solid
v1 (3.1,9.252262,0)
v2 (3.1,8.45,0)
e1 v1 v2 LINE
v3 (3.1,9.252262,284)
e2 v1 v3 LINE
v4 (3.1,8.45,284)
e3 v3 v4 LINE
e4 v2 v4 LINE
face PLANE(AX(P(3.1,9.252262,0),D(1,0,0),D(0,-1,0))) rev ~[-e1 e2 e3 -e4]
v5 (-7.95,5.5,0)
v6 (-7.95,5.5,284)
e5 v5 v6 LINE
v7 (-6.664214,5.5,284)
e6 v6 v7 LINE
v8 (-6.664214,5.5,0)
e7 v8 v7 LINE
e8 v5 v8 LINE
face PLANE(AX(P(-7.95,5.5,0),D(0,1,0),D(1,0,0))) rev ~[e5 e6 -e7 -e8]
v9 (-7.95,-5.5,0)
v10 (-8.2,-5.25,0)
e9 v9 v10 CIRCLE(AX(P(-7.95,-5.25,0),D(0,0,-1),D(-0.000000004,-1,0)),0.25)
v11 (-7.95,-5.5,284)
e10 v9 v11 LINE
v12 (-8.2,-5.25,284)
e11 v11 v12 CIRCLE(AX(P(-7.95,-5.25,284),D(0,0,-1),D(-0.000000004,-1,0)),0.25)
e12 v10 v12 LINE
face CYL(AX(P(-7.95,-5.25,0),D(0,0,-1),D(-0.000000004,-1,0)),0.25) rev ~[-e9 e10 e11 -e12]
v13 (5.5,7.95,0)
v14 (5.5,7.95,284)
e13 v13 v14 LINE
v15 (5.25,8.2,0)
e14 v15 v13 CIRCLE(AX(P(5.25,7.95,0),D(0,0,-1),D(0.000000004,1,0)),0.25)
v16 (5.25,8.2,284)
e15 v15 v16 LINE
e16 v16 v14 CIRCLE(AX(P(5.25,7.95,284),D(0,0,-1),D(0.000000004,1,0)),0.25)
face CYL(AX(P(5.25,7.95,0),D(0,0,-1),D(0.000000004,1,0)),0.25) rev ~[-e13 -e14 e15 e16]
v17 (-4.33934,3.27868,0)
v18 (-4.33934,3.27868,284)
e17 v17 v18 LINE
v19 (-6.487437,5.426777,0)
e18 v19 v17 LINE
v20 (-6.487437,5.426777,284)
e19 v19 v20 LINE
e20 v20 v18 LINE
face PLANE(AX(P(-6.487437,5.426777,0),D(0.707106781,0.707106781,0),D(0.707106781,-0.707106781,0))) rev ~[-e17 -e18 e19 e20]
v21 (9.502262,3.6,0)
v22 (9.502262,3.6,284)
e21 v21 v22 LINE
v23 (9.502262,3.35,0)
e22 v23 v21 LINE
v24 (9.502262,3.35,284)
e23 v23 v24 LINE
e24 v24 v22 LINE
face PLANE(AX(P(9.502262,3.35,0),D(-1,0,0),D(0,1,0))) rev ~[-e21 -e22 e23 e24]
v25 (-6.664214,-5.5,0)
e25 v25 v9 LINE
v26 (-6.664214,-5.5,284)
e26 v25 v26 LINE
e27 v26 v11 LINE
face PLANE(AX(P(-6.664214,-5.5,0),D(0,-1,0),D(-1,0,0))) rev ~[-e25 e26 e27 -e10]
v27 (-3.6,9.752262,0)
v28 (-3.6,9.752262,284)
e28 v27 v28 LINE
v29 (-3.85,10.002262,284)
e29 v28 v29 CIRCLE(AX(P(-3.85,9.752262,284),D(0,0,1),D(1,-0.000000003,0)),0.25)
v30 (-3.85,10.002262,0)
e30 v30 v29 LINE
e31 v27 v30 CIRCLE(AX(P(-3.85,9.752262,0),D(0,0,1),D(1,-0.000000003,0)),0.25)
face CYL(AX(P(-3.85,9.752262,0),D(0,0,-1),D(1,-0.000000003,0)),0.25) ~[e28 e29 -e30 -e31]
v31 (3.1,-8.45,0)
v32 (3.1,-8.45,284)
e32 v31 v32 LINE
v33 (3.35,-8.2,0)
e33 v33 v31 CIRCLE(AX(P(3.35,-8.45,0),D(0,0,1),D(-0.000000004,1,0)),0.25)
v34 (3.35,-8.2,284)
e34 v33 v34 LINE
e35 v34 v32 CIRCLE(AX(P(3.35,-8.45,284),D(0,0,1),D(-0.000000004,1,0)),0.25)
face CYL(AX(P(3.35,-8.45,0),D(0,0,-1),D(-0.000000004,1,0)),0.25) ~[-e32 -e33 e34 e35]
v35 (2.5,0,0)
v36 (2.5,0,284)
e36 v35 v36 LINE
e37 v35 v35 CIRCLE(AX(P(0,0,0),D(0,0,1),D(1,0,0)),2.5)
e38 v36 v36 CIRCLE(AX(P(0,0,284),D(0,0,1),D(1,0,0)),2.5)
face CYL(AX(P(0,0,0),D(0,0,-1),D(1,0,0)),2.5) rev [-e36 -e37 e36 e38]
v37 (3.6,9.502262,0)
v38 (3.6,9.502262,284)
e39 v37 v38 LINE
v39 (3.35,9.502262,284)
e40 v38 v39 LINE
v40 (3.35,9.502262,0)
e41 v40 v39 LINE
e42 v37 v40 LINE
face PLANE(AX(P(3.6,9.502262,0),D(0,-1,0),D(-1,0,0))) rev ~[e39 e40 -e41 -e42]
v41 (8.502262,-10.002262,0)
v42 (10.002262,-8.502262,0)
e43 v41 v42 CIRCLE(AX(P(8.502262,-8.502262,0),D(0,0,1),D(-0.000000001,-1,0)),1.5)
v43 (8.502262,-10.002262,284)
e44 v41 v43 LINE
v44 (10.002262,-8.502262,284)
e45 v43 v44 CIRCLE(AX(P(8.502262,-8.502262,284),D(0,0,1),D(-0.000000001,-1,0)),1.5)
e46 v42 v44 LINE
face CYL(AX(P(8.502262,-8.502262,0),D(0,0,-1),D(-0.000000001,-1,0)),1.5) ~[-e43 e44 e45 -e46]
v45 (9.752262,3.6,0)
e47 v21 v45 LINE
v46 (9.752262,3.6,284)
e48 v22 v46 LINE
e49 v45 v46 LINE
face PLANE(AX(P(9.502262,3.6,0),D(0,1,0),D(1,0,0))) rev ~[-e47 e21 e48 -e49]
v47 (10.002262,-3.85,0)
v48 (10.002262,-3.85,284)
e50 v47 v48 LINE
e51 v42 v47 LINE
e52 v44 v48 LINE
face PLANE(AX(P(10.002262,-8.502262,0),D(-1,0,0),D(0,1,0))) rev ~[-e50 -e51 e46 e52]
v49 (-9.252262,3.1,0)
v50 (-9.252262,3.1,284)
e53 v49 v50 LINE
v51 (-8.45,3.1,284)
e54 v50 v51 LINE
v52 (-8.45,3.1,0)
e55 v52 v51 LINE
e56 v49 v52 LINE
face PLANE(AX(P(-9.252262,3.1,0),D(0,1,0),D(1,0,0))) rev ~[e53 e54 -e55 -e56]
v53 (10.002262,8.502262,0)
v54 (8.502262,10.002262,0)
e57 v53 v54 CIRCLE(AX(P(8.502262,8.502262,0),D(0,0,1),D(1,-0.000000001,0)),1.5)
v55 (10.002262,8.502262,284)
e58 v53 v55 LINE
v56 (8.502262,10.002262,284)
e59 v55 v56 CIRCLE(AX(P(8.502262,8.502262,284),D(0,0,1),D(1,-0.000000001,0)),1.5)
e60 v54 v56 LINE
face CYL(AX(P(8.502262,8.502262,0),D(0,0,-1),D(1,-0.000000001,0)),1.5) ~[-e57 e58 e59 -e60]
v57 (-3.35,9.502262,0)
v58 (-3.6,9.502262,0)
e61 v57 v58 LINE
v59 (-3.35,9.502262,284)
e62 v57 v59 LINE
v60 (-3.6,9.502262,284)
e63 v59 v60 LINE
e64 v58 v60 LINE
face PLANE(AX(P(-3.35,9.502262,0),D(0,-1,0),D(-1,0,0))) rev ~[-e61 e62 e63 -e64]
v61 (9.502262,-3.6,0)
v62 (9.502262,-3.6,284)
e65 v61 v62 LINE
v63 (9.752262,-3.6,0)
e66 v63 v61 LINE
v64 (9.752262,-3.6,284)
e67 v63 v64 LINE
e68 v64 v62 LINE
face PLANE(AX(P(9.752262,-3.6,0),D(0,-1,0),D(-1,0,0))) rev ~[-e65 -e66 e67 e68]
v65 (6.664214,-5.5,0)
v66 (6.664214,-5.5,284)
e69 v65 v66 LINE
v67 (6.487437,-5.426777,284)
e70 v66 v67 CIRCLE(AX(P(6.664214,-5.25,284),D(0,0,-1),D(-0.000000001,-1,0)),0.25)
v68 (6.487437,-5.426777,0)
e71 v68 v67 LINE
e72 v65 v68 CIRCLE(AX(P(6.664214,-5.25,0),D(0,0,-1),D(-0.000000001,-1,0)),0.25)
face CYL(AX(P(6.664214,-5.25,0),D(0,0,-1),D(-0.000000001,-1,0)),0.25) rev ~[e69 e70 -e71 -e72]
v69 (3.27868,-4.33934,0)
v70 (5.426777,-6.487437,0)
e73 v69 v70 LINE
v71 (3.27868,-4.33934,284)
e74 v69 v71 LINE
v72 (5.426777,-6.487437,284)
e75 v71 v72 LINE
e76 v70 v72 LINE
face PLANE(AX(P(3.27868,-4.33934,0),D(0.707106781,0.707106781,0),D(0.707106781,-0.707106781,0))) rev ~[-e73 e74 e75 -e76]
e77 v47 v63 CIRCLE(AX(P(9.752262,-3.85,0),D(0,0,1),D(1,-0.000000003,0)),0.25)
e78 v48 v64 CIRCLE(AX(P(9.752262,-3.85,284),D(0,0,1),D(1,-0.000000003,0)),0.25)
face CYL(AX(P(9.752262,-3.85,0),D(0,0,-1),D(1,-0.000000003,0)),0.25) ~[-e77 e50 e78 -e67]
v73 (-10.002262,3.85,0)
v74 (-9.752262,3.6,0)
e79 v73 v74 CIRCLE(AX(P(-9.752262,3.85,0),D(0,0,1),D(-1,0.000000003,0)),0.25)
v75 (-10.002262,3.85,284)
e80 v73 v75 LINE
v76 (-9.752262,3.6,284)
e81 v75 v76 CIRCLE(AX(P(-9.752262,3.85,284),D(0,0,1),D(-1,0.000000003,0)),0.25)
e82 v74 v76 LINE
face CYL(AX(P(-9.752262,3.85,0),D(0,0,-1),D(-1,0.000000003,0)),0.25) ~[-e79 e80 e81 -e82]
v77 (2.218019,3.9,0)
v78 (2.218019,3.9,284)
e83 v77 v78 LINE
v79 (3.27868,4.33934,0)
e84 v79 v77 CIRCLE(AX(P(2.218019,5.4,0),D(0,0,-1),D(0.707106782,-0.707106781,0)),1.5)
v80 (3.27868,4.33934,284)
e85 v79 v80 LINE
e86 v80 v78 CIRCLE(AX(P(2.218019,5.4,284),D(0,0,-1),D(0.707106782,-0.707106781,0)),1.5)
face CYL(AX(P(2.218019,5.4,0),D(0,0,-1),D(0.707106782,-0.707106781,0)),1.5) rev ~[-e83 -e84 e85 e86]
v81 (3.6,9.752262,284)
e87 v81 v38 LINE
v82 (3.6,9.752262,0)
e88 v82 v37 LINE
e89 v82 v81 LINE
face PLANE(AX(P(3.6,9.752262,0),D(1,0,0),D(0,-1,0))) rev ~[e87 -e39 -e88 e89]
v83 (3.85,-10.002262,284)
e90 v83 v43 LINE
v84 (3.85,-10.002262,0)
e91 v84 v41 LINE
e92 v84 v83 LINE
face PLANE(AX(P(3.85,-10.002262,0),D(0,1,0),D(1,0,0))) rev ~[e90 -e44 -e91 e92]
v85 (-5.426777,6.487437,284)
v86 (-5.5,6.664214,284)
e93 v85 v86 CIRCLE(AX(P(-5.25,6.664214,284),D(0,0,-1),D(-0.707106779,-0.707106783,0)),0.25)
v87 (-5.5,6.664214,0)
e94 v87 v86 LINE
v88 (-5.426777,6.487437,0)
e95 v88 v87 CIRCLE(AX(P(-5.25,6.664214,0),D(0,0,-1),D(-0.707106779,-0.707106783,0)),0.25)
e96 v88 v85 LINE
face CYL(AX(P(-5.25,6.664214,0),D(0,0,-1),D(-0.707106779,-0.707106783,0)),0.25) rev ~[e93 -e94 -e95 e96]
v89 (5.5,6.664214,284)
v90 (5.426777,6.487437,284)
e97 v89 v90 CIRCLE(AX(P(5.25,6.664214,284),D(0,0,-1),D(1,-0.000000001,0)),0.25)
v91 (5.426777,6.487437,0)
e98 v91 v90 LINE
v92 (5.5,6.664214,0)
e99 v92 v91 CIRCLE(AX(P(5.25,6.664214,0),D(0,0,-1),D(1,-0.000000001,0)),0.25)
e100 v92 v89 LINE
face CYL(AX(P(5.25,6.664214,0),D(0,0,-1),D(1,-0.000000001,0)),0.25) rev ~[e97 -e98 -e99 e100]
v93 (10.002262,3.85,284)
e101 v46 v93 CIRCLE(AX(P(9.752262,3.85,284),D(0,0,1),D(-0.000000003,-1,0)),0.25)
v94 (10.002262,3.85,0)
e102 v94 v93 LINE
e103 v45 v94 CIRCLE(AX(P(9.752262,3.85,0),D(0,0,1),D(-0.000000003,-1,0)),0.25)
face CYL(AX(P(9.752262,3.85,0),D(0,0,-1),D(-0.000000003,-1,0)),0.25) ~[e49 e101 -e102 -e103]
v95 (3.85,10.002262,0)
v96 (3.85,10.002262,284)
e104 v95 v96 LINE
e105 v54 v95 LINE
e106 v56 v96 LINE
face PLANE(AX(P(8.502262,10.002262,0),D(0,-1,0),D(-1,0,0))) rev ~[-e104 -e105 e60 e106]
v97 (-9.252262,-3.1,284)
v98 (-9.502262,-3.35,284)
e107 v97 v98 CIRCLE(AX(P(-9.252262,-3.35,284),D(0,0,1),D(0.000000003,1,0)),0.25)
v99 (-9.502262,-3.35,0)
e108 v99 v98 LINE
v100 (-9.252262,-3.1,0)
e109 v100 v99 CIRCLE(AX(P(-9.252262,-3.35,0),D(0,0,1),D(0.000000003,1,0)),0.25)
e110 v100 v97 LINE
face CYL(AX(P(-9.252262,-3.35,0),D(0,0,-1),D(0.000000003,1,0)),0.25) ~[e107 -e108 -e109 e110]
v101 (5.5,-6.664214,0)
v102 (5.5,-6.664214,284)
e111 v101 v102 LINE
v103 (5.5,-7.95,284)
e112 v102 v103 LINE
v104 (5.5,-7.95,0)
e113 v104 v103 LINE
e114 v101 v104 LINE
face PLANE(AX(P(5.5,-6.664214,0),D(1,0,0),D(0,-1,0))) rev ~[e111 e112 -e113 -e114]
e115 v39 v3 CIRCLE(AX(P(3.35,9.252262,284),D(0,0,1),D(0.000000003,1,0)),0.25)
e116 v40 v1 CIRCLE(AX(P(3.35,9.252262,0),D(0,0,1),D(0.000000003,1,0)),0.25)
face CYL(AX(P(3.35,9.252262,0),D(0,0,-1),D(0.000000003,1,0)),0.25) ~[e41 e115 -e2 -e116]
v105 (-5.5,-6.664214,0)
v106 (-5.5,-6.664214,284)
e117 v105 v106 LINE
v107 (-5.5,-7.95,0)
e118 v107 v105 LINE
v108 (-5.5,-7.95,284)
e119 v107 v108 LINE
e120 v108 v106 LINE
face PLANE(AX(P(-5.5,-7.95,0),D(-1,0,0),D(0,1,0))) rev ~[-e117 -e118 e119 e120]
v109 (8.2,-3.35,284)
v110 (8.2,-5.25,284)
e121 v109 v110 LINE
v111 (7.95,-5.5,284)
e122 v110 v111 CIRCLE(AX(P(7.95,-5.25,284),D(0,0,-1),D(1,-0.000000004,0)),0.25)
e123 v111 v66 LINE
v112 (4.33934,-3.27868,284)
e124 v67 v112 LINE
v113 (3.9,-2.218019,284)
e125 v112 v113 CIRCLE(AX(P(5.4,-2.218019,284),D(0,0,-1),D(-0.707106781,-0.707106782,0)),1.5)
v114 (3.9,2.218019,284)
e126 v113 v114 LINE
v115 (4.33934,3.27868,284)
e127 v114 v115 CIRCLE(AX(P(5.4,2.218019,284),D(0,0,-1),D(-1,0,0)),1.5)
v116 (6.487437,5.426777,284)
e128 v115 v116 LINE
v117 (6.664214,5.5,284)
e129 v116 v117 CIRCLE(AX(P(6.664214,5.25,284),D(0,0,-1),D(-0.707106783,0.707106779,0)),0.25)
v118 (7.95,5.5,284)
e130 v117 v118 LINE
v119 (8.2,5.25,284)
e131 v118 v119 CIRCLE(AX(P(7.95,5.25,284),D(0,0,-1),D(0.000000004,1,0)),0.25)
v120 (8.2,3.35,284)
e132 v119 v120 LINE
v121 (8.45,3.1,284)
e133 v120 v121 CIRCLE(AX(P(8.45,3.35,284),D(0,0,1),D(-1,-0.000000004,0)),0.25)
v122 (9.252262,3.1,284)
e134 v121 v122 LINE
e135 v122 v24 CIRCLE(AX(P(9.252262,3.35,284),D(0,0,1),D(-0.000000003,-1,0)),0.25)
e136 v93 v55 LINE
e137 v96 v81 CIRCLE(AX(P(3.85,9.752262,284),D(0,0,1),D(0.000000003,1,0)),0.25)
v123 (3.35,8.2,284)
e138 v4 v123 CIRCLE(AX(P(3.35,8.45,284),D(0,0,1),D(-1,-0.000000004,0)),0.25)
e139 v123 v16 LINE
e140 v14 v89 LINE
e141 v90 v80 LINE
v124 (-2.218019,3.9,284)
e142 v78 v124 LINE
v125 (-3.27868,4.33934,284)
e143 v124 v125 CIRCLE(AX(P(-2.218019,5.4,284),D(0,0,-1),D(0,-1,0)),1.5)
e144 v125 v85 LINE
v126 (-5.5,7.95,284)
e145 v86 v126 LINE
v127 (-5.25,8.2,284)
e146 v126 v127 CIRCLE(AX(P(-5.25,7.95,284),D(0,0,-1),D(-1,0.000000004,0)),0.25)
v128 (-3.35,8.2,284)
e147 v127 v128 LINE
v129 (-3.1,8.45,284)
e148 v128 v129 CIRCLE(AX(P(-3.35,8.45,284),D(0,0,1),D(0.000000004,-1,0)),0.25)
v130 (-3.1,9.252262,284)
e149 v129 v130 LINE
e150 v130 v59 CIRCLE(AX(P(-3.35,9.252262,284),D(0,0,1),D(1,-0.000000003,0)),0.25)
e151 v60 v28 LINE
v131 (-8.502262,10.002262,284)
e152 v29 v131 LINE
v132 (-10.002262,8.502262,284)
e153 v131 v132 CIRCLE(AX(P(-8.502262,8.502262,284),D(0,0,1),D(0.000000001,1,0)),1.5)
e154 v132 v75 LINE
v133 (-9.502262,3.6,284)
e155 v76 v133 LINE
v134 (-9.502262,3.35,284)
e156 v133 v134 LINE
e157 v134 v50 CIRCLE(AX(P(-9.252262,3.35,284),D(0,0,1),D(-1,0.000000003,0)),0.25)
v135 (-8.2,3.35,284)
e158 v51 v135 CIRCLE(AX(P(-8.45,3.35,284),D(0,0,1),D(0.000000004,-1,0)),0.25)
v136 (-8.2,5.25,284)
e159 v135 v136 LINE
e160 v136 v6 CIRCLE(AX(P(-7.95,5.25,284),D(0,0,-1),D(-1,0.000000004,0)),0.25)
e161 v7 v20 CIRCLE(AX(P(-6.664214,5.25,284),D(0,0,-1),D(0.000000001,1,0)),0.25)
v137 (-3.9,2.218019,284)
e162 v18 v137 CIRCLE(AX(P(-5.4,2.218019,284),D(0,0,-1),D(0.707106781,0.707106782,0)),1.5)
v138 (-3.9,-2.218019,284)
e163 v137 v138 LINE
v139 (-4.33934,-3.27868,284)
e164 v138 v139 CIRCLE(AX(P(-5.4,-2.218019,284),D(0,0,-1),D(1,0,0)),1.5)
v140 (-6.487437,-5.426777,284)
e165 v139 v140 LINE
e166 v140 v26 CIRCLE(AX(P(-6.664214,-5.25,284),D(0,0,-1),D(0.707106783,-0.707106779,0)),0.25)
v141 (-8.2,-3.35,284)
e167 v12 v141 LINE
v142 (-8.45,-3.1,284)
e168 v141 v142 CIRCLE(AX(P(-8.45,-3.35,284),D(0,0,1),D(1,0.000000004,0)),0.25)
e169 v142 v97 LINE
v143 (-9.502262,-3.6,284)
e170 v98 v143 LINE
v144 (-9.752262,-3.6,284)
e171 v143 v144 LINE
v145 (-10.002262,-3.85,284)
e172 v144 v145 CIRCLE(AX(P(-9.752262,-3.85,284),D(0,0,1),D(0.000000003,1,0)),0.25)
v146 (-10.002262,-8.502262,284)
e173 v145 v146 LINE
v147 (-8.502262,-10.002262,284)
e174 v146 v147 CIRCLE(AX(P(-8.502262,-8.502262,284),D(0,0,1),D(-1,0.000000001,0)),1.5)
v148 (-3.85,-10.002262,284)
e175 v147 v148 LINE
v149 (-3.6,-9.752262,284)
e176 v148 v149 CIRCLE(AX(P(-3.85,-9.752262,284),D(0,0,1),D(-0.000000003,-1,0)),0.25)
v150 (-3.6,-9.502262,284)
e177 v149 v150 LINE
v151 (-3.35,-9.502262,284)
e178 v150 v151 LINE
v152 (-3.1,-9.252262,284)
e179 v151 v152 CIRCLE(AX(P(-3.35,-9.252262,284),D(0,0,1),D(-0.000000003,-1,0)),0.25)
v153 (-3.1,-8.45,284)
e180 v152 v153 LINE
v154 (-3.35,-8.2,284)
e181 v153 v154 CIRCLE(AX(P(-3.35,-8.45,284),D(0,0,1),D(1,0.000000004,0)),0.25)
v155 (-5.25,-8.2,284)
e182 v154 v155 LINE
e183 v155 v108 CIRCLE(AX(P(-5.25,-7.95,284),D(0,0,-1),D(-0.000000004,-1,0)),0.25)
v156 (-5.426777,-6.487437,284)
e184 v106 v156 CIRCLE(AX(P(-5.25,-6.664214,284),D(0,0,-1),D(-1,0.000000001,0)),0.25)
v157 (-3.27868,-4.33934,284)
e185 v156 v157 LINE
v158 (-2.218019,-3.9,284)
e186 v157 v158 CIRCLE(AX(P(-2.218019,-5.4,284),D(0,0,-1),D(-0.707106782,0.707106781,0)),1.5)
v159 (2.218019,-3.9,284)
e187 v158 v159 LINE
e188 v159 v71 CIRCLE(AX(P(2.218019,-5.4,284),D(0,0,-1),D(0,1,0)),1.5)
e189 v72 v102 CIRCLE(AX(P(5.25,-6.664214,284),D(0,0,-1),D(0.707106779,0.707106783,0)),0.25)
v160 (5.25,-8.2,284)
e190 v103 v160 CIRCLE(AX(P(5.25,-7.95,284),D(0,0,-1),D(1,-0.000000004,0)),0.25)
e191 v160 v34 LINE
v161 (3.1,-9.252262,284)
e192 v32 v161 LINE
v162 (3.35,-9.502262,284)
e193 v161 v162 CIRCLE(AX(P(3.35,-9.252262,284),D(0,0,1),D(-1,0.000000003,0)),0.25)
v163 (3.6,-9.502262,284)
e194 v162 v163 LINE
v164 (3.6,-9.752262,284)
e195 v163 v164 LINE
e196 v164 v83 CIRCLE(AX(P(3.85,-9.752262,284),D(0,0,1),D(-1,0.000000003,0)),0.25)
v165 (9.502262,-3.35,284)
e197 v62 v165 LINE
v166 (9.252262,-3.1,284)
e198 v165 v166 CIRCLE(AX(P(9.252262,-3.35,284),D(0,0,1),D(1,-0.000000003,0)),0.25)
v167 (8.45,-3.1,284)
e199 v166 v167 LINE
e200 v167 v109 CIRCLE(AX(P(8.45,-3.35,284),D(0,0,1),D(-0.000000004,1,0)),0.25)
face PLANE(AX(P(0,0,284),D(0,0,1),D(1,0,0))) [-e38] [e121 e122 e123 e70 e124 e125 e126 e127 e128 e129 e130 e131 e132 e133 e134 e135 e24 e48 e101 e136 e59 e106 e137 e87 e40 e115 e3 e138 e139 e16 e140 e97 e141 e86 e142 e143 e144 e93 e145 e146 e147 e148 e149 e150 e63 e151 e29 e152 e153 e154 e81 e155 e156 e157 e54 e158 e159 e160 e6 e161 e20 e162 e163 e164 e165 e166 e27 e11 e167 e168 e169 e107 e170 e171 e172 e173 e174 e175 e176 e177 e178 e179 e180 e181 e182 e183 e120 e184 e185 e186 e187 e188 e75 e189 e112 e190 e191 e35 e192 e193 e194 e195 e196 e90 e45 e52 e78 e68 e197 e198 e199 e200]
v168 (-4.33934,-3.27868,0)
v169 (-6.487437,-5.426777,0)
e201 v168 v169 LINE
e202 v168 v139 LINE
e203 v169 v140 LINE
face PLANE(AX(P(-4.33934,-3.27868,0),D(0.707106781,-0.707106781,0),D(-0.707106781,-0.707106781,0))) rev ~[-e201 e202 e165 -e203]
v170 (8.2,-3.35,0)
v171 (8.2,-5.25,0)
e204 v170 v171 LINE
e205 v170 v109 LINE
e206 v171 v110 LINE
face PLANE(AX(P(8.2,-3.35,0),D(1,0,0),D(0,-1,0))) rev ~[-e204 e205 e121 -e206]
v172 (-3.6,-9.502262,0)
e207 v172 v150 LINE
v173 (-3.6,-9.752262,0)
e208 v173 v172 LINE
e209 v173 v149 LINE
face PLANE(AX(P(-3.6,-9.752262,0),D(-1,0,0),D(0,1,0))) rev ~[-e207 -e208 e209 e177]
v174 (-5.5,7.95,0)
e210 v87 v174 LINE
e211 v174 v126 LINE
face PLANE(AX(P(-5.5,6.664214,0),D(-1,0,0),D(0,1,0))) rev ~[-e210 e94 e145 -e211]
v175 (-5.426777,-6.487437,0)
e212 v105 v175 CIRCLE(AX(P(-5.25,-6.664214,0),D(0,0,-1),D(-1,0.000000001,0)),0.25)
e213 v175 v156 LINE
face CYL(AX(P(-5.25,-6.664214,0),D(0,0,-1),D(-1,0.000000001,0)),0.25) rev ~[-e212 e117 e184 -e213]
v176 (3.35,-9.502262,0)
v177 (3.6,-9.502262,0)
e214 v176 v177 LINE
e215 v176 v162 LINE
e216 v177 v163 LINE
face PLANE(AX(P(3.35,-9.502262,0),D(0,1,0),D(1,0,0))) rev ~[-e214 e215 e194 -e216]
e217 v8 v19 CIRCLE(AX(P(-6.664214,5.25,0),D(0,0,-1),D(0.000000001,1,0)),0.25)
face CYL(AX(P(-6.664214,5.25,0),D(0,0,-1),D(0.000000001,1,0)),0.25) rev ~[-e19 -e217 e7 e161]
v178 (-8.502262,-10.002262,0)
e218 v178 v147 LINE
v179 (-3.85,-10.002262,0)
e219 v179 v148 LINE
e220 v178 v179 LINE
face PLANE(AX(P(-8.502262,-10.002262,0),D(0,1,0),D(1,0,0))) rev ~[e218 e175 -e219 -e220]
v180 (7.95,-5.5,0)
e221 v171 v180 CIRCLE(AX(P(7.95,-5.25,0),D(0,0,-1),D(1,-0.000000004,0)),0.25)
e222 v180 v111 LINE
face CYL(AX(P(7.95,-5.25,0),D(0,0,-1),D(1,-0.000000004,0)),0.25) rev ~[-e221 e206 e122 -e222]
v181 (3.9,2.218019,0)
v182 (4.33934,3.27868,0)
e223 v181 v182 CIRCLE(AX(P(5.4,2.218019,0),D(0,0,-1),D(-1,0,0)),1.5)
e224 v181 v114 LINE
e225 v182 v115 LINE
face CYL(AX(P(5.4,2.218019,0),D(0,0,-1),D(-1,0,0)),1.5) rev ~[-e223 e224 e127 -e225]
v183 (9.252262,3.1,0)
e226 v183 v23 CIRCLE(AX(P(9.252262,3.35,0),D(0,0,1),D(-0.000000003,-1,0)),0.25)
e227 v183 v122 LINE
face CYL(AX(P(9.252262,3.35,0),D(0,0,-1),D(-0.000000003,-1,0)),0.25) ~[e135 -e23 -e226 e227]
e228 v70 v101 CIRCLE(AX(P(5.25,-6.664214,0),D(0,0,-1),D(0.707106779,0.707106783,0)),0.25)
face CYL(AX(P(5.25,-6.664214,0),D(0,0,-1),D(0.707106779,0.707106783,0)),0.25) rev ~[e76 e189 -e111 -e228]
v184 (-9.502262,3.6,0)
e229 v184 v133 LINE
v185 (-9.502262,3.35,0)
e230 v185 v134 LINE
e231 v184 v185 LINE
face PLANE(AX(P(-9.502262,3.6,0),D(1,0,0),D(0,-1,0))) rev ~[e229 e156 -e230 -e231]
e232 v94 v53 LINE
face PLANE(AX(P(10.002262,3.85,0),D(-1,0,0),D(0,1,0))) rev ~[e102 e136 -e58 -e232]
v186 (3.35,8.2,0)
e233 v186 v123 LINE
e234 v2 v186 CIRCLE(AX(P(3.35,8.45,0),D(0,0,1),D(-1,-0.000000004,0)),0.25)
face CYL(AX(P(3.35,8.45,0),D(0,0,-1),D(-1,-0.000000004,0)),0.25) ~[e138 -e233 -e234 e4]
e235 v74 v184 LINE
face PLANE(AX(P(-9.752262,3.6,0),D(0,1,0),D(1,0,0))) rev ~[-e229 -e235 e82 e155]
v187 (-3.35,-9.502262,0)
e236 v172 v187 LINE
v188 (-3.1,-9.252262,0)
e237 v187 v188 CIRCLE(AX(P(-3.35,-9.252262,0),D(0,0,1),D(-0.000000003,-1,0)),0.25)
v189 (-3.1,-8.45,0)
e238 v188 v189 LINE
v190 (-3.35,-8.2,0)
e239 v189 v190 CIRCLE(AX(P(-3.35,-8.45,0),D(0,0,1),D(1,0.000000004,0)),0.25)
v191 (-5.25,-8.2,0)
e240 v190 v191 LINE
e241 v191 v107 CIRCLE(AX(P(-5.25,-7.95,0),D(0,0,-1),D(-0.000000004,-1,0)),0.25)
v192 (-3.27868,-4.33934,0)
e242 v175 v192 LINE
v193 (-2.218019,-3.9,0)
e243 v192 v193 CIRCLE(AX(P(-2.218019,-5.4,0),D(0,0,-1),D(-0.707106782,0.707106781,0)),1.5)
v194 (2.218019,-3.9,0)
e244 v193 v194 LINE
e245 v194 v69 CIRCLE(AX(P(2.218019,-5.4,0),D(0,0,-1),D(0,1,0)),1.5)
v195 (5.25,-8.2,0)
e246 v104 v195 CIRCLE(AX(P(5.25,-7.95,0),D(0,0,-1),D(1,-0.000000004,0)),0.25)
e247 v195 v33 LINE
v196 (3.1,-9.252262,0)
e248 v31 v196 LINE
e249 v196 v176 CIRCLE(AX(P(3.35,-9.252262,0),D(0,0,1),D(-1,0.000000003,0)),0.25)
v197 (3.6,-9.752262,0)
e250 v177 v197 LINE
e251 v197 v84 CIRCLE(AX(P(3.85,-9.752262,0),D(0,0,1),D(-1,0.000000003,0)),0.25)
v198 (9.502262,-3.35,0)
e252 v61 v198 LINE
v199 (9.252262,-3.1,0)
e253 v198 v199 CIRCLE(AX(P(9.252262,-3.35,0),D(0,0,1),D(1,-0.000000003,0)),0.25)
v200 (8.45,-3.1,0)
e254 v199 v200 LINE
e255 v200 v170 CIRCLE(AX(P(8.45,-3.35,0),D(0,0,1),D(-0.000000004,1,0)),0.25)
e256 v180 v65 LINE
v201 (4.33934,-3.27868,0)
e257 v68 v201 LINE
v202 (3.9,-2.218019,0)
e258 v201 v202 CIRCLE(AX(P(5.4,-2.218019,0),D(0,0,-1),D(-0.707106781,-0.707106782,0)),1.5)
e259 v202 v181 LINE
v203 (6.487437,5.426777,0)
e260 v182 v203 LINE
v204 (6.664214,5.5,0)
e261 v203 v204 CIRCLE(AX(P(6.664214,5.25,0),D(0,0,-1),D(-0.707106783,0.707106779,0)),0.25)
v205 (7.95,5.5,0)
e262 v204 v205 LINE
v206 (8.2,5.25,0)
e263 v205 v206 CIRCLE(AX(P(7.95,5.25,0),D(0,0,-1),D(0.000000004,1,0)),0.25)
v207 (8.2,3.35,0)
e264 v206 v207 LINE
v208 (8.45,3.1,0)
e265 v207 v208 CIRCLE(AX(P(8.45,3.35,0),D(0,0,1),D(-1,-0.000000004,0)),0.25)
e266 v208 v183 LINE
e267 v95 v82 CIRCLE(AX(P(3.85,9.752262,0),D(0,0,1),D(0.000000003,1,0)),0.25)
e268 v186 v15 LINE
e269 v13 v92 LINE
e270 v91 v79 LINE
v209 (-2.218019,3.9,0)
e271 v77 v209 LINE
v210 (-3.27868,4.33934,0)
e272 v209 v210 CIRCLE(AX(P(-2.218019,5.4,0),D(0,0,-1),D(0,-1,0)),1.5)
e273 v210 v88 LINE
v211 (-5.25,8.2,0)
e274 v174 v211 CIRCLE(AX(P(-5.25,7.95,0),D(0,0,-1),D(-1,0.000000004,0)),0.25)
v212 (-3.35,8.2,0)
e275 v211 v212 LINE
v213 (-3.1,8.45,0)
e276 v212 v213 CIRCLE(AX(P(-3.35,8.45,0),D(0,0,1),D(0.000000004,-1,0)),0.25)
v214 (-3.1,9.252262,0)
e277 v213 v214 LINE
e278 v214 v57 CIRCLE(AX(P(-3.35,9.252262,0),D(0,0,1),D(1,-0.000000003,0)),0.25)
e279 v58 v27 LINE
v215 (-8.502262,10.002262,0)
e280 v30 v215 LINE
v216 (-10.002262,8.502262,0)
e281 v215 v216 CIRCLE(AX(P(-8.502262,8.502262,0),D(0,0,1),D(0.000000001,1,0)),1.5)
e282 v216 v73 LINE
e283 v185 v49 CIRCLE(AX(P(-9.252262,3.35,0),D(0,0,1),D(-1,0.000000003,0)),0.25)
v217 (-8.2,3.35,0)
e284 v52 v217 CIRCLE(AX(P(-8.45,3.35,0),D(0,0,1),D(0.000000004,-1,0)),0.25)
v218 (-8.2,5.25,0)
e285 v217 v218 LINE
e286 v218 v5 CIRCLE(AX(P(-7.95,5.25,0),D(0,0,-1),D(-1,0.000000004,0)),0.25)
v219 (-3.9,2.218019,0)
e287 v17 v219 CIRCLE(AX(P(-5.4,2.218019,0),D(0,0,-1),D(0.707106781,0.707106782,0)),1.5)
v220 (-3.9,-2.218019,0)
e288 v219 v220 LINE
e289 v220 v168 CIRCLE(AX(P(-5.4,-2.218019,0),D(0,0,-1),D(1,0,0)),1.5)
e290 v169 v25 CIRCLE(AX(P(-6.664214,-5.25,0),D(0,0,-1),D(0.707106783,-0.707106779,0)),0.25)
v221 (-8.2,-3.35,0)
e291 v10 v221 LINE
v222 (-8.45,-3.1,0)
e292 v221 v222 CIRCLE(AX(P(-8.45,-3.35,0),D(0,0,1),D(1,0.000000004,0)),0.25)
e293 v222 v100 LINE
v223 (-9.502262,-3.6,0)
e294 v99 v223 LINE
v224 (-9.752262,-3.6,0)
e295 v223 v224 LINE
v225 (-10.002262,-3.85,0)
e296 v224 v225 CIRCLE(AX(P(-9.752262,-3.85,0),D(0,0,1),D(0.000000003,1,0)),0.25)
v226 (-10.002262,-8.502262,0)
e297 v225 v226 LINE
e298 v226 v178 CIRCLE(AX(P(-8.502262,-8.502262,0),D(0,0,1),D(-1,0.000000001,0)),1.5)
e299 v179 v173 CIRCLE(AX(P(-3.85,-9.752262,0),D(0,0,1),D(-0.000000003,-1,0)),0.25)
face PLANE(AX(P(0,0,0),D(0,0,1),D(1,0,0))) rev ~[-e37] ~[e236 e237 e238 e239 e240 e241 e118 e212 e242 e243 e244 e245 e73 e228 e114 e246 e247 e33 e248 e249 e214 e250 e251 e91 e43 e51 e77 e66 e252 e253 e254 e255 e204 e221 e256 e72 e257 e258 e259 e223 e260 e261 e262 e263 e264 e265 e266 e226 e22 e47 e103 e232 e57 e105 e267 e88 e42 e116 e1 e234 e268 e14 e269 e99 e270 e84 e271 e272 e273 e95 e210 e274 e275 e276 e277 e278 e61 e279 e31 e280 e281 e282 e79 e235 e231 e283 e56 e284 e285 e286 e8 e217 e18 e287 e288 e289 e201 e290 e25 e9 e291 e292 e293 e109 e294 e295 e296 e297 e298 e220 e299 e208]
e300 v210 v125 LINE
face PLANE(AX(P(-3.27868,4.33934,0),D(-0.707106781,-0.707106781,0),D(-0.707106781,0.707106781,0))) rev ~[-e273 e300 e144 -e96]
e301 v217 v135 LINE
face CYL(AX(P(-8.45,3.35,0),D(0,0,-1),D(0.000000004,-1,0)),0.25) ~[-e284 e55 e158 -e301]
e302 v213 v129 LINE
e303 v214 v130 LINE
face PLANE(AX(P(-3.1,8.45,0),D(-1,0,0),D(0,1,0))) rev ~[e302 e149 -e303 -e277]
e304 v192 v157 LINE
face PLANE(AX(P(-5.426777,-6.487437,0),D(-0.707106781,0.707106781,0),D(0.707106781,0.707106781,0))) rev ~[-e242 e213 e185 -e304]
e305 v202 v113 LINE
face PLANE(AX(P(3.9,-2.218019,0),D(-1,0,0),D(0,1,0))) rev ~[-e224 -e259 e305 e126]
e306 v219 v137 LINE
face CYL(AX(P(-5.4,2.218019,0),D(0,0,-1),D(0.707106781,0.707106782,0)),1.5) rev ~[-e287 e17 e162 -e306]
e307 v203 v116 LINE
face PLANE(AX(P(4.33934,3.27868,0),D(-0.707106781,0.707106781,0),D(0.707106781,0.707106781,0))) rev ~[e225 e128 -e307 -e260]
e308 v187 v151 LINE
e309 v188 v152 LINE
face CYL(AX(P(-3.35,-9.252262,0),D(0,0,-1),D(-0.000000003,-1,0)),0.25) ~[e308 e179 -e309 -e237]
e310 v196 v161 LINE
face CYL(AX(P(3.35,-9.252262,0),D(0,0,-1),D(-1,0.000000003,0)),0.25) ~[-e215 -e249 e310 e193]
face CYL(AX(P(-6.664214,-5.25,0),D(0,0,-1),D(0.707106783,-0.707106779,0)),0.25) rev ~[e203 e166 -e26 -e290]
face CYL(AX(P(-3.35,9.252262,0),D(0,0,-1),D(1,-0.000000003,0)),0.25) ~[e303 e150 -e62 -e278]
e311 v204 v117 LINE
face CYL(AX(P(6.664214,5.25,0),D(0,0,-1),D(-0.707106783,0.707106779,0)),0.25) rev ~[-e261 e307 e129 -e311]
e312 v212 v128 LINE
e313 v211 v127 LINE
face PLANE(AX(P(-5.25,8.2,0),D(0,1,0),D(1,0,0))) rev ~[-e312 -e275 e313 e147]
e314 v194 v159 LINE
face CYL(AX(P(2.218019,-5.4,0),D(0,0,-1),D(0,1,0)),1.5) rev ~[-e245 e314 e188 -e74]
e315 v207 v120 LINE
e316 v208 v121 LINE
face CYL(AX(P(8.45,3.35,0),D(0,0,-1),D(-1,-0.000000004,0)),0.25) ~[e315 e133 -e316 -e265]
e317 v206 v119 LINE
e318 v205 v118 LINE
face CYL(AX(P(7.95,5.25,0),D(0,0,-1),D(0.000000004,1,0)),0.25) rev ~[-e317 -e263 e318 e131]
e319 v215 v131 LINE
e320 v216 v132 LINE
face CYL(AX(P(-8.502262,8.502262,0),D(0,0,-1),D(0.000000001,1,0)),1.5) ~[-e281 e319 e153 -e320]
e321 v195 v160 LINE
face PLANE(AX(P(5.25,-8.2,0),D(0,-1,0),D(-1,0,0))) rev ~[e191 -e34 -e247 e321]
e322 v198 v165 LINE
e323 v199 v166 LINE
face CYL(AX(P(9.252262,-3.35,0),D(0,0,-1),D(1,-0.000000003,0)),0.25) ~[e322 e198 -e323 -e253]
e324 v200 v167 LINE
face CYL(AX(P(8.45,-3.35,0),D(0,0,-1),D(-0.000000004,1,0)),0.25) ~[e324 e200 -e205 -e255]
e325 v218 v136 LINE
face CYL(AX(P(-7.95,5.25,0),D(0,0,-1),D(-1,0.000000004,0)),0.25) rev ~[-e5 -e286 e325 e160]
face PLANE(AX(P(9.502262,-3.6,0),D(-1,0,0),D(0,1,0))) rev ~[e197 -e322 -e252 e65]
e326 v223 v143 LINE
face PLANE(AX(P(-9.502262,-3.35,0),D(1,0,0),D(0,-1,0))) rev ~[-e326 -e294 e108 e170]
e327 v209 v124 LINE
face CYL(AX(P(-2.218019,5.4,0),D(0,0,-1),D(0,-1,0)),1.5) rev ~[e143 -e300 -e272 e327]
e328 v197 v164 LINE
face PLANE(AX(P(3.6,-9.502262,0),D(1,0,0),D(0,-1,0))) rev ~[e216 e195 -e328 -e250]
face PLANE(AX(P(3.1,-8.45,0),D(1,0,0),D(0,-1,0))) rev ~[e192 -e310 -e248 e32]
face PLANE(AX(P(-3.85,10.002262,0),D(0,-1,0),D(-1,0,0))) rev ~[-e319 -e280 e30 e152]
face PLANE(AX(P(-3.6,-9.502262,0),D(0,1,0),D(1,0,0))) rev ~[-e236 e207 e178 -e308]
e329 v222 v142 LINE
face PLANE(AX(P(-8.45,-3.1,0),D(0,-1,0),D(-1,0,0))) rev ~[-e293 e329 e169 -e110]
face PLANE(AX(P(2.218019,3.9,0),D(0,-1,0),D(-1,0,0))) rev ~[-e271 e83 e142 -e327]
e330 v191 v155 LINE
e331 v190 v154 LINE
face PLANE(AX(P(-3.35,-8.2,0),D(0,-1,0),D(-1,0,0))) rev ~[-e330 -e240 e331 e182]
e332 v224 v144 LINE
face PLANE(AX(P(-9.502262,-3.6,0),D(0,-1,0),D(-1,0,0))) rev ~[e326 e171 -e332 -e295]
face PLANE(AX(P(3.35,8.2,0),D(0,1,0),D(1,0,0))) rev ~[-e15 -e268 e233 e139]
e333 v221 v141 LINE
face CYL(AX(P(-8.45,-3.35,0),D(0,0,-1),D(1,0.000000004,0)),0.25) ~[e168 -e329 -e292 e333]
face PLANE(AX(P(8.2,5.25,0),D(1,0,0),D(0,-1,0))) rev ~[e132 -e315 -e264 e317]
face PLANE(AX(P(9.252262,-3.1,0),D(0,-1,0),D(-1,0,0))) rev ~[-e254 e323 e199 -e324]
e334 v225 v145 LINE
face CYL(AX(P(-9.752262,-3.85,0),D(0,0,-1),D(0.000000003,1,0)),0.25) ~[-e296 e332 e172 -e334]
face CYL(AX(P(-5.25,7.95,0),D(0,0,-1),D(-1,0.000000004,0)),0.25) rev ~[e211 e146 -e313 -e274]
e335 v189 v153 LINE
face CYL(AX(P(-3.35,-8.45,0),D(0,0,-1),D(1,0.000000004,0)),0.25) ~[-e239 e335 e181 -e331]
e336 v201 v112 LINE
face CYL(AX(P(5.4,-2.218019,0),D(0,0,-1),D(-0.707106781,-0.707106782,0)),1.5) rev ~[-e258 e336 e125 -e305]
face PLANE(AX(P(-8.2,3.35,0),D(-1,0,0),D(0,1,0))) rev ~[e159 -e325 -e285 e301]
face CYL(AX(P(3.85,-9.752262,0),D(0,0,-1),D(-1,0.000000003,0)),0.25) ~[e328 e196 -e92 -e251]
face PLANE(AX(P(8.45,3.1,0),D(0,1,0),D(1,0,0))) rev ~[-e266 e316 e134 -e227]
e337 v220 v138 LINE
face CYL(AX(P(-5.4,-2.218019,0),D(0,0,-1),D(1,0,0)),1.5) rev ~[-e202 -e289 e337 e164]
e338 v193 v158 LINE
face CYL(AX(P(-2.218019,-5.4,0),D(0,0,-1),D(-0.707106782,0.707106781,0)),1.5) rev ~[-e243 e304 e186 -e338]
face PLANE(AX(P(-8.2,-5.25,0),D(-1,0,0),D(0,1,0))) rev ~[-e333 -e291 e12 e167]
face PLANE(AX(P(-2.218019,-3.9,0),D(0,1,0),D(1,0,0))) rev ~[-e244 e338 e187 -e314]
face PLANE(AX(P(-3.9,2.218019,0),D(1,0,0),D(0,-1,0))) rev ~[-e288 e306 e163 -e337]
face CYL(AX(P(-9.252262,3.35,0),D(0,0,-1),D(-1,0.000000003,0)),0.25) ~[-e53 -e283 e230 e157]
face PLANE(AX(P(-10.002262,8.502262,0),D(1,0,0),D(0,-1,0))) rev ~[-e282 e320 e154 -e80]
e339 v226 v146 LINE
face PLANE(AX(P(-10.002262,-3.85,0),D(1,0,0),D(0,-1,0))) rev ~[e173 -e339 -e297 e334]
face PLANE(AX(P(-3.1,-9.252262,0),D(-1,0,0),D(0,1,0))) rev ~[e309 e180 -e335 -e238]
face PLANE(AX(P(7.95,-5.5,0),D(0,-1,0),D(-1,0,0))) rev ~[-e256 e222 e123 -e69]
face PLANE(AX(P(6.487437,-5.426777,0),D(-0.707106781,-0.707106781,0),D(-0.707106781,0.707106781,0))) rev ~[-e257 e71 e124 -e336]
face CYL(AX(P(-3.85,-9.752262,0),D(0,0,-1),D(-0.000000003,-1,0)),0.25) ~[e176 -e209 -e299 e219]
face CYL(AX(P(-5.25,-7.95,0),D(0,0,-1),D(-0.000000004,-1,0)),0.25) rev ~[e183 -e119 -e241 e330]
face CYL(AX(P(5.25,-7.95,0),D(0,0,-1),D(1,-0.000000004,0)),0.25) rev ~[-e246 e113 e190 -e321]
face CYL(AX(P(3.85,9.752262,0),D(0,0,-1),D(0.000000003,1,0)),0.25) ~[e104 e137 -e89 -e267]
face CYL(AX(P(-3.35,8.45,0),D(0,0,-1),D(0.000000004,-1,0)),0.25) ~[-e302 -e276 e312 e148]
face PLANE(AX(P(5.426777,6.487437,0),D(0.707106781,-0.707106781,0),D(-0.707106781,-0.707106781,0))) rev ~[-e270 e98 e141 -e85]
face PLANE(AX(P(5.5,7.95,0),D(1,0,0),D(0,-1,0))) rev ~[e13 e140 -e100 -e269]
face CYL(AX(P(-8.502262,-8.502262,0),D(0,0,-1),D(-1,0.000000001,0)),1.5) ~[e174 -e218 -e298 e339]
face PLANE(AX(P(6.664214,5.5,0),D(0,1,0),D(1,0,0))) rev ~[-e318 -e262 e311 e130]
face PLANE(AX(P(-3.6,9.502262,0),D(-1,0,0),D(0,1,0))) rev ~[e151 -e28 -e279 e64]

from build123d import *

# Parameters (mm, degrees)
SKETCH_1_R      = 2.5
EXTRUDE_1_DEPTH = 284


with BuildPart() as part:
    # 草图1 → 凸台-拉伸1 (new body)
    with BuildSketch(Plane.XY):
        with BuildLine():
            Line((-8.502261885, -10.002261885), (-3.85, -10.002261885))
            ThreePointArc((-3.85, -10.002261885), (-3.673223305, -9.929038581), (-3.6, -9.752261885))
            Line((-3.6, -9.752261885), (-3.6, -9.502261885))
            Line((-3.6, -9.502261885), (-3.35, -9.502261885))
            ThreePointArc((-3.35, -9.502261885), (-3.173223305, -9.429038581), (-3.1, -9.252261885))
            Line((-3.1, -9.252261885), (-3.1, -8.45))
            ThreePointArc((-3.1, -8.45), (-3.173223305, -8.273223305), (-3.35, -8.2))
            Line((-3.35, -8.2), (-5.25, -8.2))
            ThreePointArc((-5.25, -8.2), (-5.426776695, -8.126776695), (-5.5, -7.95))
            Line((-5.5, -7.95), (-5.5, -6.664213562))
            ThreePointArc((-5.5, -6.664213562), (-5.480969883, -6.568542704), (-5.426776695, -6.487436867))
            Line((-5.426776695, -6.487436867), (-3.278679656, -4.339339828))
            ThreePointArc((-3.278679656, -4.339339828), (-2.792044633, -4.014180701), (-2.218019485, -3.9))
            Line((-2.218019485, -3.9), (2.218019485, -3.9))
            ThreePointArc((2.218019485, -3.9), (2.792044633, -4.014180701), (3.278679656, -4.339339828))
            Line((3.278679656, -4.339339828), (5.426776695, -6.487436867))
            ThreePointArc((5.426776695, -6.487436867), (5.480969883, -6.568542704), (5.5, -6.664213562))
            Line((5.5, -6.664213562), (5.5, -7.95))
            ThreePointArc((5.5, -7.95), (5.426776695, -8.126776695), (5.25, -8.2))
            Line((5.25, -8.2), (3.35, -8.2))
            ThreePointArc((3.35, -8.2), (3.173223305, -8.273223305), (3.1, -8.45))
            Line((3.1, -8.45), (3.1, -9.252261885))
            ThreePointArc((3.1, -9.252261885), (3.173223305, -9.429038581), (3.35, -9.502261885))
            Line((3.35, -9.502261885), (3.6, -9.502261885))
            Line((3.6, -9.502261885), (3.6, -9.752261885))
            ThreePointArc((3.6, -9.752261885), (3.673223305, -9.929038581), (3.85, -10.002261885))
            Line((3.85, -10.002261885), (8.502261885, -10.002261885))
            ThreePointArc((8.502261885, -10.002261885), (9.562922057, -9.562922057), (10.002261885, -8.502261885))
            Line((10.002261885, -8.502261885), (10.002261885, -3.85))
            ThreePointArc((10.002261885, -3.85), (9.929038581, -3.673223305), (9.752261885, -3.6))
            Line((9.752261885, -3.6), (9.502261885, -3.6))
            Line((9.502261885, -3.6), (9.502261885, -3.35))
            ThreePointArc((9.502261885, -3.35), (9.429038581, -3.173223305), (9.252261885, -3.1))
            Line((9.252261885, -3.1), (8.45, -3.1))
            ThreePointArc((8.45, -3.1), (8.273223305, -3.173223305), (8.2, -3.35))
            Line((8.2, -3.35), (8.2, -5.25))
            ThreePointArc((8.2, -5.25), (8.126776695, -5.426776695), (7.95, -5.5))
            Line((7.95, -5.5), (6.664213562, -5.5))
            ThreePointArc((6.664213562, -5.5), (6.568542704, -5.480969883), (6.487436867, -5.426776695))
            Line((6.487436867, -5.426776695), (4.339339828, -3.278679656))
            ThreePointArc((4.339339828, -3.278679656), (4.014180701, -2.792044633), (3.9, -2.218019485))
            Line((3.9, -2.218019485), (3.9, 2.218019485))
            ThreePointArc((3.9, 2.218019485), (4.014180701, 2.792044633), (4.339339828, 3.278679656))
            Line((4.339339828, 3.278679656), (6.487436867, 5.426776695))
            ThreePointArc((6.487436867, 5.426776695), (6.568542704, 5.480969883), (6.664213562, 5.5))
            Line((6.664213562, 5.5), (7.95, 5.5))
            ThreePointArc((7.95, 5.5), (8.126776695, 5.426776695), (8.2, 5.25))
            Line((8.2, 5.25), (8.2, 3.35))
            ThreePointArc((8.2, 3.35), (8.273223305, 3.173223305), (8.45, 3.1))
            Line((8.45, 3.1), (9.252261885, 3.1))
            ThreePointArc((9.252261885, 3.1), (9.429038581, 3.173223305), (9.502261885, 3.35))
            Line((9.502261885, 3.35), (9.502261885, 3.6))
            Line((9.502261885, 3.6), (9.752261885, 3.6))
            ThreePointArc((9.752261885, 3.6), (9.929038581, 3.673223305), (10.002261885, 3.85))
            Line((10.002261885, 3.85), (10.002261885, 8.502261885))
            ThreePointArc((10.002261885, 8.502261885), (9.562922057, 9.562922057), (8.502261885, 10.002261885))
            Line((8.502261885, 10.002261885), (3.85, 10.002261885))
            ThreePointArc((3.85, 10.002261885), (3.673223305, 9.929038581), (3.6, 9.752261885))
            Line((3.6, 9.752261885), (3.6, 9.502261885))
            Line((3.6, 9.502261885), (3.35, 9.502261885))
            ThreePointArc((3.35, 9.502261885), (3.173223305, 9.429038581), (3.1, 9.252261885))
            Line((3.1, 9.252261885), (3.1, 8.45))
            ThreePointArc((3.1, 8.45), (3.173223305, 8.273223305), (3.35, 8.2))
            Line((3.35, 8.2), (5.25, 8.2))
            ThreePointArc((5.25, 8.2), (5.426776695, 8.126776695), (5.5, 7.95))
            Line((5.5, 7.95), (5.5, 6.664213562))
            ThreePointArc((5.5, 6.664213562), (5.480969883, 6.568542704), (5.426776695, 6.487436867))
            Line((5.426776695, 6.487436867), (3.278679656, 4.339339828))
            ThreePointArc((3.278679656, 4.339339828), (2.792044633, 4.014180701), (2.218019485, 3.9))
            Line((2.218019485, 3.9), (-2.218019485, 3.9))
            ThreePointArc((-2.218019485, 3.9), (-2.792044633, 4.014180701), (-3.278679656, 4.339339828))
            Line((-3.278679656, 4.339339828), (-5.426776695, 6.487436867))
            ThreePointArc((-5.426776695, 6.487436867), (-5.480969883, 6.568542704), (-5.5, 6.664213562))
            Line((-5.5, 6.664213562), (-5.5, 7.95))
            ThreePointArc((-5.5, 7.95), (-5.426776695, 8.126776695), (-5.25, 8.2))
            Line((-5.25, 8.2), (-3.35, 8.2))
            ThreePointArc((-3.35, 8.2), (-3.173223305, 8.273223305), (-3.1, 8.45))
            Line((-3.1, 8.45), (-3.1, 9.252261885))
            ThreePointArc((-3.1, 9.252261885), (-3.173223305, 9.429038581), (-3.35, 9.502261885))
            Line((-3.35, 9.502261885), (-3.6, 9.502261885))
            Line((-3.6, 9.502261885), (-3.6, 9.752261885))
            ThreePointArc((-3.6, 9.752261885), (-3.673223305, 9.929038581), (-3.85, 10.002261885))
            Line((-3.85, 10.002261885), (-8.502261885, 10.002261885))
            ThreePointArc((-8.502261885, 10.002261885), (-9.562922057, 9.562922057), (-10.002261885, 8.502261885))
            Line((-10.002261885, 8.502261885), (-10.002261885, 3.85))
            ThreePointArc((-10.002261885, 3.85), (-9.929038581, 3.673223305), (-9.752261885, 3.6))
            Line((-9.752261885, 3.6), (-9.502261885, 3.6))
            Line((-9.502261885, 3.6), (-9.502261885, 3.35))
            ThreePointArc((-9.502261885, 3.35), (-9.429038581, 3.173223305), (-9.252261885, 3.1))
            Line((-9.252261885, 3.1), (-8.45, 3.1))
            ThreePointArc((-8.45, 3.1), (-8.273223305, 3.173223305), (-8.2, 3.35))
            Line((-8.2, 3.35), (-8.2, 5.25))
            ThreePointArc((-8.2, 5.25), (-8.126776695, 5.426776695), (-7.95, 5.5))
            Line((-7.95, 5.5), (-6.664213562, 5.5))
            ThreePointArc((-6.664213562, 5.5), (-6.568542704, 5.480969883), (-6.487436867, 5.426776695))
            Line((-6.487436867, 5.426776695), (-4.339339828, 3.278679656))
            ThreePointArc((-4.339339828, 3.278679656), (-4.014180701, 2.792044633), (-3.9, 2.218019485))
            Line((-3.9, 2.218019485), (-3.9, -2.218019485))
            ThreePointArc((-3.9, -2.218019485), (-4.014180701, -2.792044633), (-4.339339828, -3.278679656))
            Line((-4.339339828, -3.278679656), (-6.487436867, -5.426776695))
            ThreePointArc((-6.487436867, -5.426776695), (-6.568542704, -5.480969883), (-6.664213562, -5.5))
            Line((-6.664213562, -5.5), (-7.95, -5.5))
            ThreePointArc((-7.95, -5.5), (-8.126776695, -5.426776695), (-8.2, -5.25))
            Line((-8.2, -5.25), (-8.2, -3.35))
            ThreePointArc((-8.2, -3.35), (-8.273223305, -3.173223305), (-8.45, -3.1))
            Line((-8.45, -3.1), (-9.252261885, -3.1))
            ThreePointArc((-9.252261885, -3.1), (-9.429038581, -3.173223305), (-9.502261885, -3.35))
            Line((-9.502261885, -3.35), (-9.502261885, -3.6))
            Line((-9.502261885, -3.6), (-9.752261885, -3.6))
            ThreePointArc((-9.752261885, -3.6), (-9.929038581, -3.673223305), (-10.002261885, -3.85))
            Line((-10.002261885, -3.85), (-10.002261885, -8.502261885))
            ThreePointArc((-10.002261885, -8.502261885), (-9.562922057, -9.562922057), (-8.502261885, -10.002261885))
        make_face()
        Circle(SKETCH_1_R, mode=Mode.SUBTRACT)
    extrude(amount=EXTRUDE_1_DEPTH)


solid = part.part
